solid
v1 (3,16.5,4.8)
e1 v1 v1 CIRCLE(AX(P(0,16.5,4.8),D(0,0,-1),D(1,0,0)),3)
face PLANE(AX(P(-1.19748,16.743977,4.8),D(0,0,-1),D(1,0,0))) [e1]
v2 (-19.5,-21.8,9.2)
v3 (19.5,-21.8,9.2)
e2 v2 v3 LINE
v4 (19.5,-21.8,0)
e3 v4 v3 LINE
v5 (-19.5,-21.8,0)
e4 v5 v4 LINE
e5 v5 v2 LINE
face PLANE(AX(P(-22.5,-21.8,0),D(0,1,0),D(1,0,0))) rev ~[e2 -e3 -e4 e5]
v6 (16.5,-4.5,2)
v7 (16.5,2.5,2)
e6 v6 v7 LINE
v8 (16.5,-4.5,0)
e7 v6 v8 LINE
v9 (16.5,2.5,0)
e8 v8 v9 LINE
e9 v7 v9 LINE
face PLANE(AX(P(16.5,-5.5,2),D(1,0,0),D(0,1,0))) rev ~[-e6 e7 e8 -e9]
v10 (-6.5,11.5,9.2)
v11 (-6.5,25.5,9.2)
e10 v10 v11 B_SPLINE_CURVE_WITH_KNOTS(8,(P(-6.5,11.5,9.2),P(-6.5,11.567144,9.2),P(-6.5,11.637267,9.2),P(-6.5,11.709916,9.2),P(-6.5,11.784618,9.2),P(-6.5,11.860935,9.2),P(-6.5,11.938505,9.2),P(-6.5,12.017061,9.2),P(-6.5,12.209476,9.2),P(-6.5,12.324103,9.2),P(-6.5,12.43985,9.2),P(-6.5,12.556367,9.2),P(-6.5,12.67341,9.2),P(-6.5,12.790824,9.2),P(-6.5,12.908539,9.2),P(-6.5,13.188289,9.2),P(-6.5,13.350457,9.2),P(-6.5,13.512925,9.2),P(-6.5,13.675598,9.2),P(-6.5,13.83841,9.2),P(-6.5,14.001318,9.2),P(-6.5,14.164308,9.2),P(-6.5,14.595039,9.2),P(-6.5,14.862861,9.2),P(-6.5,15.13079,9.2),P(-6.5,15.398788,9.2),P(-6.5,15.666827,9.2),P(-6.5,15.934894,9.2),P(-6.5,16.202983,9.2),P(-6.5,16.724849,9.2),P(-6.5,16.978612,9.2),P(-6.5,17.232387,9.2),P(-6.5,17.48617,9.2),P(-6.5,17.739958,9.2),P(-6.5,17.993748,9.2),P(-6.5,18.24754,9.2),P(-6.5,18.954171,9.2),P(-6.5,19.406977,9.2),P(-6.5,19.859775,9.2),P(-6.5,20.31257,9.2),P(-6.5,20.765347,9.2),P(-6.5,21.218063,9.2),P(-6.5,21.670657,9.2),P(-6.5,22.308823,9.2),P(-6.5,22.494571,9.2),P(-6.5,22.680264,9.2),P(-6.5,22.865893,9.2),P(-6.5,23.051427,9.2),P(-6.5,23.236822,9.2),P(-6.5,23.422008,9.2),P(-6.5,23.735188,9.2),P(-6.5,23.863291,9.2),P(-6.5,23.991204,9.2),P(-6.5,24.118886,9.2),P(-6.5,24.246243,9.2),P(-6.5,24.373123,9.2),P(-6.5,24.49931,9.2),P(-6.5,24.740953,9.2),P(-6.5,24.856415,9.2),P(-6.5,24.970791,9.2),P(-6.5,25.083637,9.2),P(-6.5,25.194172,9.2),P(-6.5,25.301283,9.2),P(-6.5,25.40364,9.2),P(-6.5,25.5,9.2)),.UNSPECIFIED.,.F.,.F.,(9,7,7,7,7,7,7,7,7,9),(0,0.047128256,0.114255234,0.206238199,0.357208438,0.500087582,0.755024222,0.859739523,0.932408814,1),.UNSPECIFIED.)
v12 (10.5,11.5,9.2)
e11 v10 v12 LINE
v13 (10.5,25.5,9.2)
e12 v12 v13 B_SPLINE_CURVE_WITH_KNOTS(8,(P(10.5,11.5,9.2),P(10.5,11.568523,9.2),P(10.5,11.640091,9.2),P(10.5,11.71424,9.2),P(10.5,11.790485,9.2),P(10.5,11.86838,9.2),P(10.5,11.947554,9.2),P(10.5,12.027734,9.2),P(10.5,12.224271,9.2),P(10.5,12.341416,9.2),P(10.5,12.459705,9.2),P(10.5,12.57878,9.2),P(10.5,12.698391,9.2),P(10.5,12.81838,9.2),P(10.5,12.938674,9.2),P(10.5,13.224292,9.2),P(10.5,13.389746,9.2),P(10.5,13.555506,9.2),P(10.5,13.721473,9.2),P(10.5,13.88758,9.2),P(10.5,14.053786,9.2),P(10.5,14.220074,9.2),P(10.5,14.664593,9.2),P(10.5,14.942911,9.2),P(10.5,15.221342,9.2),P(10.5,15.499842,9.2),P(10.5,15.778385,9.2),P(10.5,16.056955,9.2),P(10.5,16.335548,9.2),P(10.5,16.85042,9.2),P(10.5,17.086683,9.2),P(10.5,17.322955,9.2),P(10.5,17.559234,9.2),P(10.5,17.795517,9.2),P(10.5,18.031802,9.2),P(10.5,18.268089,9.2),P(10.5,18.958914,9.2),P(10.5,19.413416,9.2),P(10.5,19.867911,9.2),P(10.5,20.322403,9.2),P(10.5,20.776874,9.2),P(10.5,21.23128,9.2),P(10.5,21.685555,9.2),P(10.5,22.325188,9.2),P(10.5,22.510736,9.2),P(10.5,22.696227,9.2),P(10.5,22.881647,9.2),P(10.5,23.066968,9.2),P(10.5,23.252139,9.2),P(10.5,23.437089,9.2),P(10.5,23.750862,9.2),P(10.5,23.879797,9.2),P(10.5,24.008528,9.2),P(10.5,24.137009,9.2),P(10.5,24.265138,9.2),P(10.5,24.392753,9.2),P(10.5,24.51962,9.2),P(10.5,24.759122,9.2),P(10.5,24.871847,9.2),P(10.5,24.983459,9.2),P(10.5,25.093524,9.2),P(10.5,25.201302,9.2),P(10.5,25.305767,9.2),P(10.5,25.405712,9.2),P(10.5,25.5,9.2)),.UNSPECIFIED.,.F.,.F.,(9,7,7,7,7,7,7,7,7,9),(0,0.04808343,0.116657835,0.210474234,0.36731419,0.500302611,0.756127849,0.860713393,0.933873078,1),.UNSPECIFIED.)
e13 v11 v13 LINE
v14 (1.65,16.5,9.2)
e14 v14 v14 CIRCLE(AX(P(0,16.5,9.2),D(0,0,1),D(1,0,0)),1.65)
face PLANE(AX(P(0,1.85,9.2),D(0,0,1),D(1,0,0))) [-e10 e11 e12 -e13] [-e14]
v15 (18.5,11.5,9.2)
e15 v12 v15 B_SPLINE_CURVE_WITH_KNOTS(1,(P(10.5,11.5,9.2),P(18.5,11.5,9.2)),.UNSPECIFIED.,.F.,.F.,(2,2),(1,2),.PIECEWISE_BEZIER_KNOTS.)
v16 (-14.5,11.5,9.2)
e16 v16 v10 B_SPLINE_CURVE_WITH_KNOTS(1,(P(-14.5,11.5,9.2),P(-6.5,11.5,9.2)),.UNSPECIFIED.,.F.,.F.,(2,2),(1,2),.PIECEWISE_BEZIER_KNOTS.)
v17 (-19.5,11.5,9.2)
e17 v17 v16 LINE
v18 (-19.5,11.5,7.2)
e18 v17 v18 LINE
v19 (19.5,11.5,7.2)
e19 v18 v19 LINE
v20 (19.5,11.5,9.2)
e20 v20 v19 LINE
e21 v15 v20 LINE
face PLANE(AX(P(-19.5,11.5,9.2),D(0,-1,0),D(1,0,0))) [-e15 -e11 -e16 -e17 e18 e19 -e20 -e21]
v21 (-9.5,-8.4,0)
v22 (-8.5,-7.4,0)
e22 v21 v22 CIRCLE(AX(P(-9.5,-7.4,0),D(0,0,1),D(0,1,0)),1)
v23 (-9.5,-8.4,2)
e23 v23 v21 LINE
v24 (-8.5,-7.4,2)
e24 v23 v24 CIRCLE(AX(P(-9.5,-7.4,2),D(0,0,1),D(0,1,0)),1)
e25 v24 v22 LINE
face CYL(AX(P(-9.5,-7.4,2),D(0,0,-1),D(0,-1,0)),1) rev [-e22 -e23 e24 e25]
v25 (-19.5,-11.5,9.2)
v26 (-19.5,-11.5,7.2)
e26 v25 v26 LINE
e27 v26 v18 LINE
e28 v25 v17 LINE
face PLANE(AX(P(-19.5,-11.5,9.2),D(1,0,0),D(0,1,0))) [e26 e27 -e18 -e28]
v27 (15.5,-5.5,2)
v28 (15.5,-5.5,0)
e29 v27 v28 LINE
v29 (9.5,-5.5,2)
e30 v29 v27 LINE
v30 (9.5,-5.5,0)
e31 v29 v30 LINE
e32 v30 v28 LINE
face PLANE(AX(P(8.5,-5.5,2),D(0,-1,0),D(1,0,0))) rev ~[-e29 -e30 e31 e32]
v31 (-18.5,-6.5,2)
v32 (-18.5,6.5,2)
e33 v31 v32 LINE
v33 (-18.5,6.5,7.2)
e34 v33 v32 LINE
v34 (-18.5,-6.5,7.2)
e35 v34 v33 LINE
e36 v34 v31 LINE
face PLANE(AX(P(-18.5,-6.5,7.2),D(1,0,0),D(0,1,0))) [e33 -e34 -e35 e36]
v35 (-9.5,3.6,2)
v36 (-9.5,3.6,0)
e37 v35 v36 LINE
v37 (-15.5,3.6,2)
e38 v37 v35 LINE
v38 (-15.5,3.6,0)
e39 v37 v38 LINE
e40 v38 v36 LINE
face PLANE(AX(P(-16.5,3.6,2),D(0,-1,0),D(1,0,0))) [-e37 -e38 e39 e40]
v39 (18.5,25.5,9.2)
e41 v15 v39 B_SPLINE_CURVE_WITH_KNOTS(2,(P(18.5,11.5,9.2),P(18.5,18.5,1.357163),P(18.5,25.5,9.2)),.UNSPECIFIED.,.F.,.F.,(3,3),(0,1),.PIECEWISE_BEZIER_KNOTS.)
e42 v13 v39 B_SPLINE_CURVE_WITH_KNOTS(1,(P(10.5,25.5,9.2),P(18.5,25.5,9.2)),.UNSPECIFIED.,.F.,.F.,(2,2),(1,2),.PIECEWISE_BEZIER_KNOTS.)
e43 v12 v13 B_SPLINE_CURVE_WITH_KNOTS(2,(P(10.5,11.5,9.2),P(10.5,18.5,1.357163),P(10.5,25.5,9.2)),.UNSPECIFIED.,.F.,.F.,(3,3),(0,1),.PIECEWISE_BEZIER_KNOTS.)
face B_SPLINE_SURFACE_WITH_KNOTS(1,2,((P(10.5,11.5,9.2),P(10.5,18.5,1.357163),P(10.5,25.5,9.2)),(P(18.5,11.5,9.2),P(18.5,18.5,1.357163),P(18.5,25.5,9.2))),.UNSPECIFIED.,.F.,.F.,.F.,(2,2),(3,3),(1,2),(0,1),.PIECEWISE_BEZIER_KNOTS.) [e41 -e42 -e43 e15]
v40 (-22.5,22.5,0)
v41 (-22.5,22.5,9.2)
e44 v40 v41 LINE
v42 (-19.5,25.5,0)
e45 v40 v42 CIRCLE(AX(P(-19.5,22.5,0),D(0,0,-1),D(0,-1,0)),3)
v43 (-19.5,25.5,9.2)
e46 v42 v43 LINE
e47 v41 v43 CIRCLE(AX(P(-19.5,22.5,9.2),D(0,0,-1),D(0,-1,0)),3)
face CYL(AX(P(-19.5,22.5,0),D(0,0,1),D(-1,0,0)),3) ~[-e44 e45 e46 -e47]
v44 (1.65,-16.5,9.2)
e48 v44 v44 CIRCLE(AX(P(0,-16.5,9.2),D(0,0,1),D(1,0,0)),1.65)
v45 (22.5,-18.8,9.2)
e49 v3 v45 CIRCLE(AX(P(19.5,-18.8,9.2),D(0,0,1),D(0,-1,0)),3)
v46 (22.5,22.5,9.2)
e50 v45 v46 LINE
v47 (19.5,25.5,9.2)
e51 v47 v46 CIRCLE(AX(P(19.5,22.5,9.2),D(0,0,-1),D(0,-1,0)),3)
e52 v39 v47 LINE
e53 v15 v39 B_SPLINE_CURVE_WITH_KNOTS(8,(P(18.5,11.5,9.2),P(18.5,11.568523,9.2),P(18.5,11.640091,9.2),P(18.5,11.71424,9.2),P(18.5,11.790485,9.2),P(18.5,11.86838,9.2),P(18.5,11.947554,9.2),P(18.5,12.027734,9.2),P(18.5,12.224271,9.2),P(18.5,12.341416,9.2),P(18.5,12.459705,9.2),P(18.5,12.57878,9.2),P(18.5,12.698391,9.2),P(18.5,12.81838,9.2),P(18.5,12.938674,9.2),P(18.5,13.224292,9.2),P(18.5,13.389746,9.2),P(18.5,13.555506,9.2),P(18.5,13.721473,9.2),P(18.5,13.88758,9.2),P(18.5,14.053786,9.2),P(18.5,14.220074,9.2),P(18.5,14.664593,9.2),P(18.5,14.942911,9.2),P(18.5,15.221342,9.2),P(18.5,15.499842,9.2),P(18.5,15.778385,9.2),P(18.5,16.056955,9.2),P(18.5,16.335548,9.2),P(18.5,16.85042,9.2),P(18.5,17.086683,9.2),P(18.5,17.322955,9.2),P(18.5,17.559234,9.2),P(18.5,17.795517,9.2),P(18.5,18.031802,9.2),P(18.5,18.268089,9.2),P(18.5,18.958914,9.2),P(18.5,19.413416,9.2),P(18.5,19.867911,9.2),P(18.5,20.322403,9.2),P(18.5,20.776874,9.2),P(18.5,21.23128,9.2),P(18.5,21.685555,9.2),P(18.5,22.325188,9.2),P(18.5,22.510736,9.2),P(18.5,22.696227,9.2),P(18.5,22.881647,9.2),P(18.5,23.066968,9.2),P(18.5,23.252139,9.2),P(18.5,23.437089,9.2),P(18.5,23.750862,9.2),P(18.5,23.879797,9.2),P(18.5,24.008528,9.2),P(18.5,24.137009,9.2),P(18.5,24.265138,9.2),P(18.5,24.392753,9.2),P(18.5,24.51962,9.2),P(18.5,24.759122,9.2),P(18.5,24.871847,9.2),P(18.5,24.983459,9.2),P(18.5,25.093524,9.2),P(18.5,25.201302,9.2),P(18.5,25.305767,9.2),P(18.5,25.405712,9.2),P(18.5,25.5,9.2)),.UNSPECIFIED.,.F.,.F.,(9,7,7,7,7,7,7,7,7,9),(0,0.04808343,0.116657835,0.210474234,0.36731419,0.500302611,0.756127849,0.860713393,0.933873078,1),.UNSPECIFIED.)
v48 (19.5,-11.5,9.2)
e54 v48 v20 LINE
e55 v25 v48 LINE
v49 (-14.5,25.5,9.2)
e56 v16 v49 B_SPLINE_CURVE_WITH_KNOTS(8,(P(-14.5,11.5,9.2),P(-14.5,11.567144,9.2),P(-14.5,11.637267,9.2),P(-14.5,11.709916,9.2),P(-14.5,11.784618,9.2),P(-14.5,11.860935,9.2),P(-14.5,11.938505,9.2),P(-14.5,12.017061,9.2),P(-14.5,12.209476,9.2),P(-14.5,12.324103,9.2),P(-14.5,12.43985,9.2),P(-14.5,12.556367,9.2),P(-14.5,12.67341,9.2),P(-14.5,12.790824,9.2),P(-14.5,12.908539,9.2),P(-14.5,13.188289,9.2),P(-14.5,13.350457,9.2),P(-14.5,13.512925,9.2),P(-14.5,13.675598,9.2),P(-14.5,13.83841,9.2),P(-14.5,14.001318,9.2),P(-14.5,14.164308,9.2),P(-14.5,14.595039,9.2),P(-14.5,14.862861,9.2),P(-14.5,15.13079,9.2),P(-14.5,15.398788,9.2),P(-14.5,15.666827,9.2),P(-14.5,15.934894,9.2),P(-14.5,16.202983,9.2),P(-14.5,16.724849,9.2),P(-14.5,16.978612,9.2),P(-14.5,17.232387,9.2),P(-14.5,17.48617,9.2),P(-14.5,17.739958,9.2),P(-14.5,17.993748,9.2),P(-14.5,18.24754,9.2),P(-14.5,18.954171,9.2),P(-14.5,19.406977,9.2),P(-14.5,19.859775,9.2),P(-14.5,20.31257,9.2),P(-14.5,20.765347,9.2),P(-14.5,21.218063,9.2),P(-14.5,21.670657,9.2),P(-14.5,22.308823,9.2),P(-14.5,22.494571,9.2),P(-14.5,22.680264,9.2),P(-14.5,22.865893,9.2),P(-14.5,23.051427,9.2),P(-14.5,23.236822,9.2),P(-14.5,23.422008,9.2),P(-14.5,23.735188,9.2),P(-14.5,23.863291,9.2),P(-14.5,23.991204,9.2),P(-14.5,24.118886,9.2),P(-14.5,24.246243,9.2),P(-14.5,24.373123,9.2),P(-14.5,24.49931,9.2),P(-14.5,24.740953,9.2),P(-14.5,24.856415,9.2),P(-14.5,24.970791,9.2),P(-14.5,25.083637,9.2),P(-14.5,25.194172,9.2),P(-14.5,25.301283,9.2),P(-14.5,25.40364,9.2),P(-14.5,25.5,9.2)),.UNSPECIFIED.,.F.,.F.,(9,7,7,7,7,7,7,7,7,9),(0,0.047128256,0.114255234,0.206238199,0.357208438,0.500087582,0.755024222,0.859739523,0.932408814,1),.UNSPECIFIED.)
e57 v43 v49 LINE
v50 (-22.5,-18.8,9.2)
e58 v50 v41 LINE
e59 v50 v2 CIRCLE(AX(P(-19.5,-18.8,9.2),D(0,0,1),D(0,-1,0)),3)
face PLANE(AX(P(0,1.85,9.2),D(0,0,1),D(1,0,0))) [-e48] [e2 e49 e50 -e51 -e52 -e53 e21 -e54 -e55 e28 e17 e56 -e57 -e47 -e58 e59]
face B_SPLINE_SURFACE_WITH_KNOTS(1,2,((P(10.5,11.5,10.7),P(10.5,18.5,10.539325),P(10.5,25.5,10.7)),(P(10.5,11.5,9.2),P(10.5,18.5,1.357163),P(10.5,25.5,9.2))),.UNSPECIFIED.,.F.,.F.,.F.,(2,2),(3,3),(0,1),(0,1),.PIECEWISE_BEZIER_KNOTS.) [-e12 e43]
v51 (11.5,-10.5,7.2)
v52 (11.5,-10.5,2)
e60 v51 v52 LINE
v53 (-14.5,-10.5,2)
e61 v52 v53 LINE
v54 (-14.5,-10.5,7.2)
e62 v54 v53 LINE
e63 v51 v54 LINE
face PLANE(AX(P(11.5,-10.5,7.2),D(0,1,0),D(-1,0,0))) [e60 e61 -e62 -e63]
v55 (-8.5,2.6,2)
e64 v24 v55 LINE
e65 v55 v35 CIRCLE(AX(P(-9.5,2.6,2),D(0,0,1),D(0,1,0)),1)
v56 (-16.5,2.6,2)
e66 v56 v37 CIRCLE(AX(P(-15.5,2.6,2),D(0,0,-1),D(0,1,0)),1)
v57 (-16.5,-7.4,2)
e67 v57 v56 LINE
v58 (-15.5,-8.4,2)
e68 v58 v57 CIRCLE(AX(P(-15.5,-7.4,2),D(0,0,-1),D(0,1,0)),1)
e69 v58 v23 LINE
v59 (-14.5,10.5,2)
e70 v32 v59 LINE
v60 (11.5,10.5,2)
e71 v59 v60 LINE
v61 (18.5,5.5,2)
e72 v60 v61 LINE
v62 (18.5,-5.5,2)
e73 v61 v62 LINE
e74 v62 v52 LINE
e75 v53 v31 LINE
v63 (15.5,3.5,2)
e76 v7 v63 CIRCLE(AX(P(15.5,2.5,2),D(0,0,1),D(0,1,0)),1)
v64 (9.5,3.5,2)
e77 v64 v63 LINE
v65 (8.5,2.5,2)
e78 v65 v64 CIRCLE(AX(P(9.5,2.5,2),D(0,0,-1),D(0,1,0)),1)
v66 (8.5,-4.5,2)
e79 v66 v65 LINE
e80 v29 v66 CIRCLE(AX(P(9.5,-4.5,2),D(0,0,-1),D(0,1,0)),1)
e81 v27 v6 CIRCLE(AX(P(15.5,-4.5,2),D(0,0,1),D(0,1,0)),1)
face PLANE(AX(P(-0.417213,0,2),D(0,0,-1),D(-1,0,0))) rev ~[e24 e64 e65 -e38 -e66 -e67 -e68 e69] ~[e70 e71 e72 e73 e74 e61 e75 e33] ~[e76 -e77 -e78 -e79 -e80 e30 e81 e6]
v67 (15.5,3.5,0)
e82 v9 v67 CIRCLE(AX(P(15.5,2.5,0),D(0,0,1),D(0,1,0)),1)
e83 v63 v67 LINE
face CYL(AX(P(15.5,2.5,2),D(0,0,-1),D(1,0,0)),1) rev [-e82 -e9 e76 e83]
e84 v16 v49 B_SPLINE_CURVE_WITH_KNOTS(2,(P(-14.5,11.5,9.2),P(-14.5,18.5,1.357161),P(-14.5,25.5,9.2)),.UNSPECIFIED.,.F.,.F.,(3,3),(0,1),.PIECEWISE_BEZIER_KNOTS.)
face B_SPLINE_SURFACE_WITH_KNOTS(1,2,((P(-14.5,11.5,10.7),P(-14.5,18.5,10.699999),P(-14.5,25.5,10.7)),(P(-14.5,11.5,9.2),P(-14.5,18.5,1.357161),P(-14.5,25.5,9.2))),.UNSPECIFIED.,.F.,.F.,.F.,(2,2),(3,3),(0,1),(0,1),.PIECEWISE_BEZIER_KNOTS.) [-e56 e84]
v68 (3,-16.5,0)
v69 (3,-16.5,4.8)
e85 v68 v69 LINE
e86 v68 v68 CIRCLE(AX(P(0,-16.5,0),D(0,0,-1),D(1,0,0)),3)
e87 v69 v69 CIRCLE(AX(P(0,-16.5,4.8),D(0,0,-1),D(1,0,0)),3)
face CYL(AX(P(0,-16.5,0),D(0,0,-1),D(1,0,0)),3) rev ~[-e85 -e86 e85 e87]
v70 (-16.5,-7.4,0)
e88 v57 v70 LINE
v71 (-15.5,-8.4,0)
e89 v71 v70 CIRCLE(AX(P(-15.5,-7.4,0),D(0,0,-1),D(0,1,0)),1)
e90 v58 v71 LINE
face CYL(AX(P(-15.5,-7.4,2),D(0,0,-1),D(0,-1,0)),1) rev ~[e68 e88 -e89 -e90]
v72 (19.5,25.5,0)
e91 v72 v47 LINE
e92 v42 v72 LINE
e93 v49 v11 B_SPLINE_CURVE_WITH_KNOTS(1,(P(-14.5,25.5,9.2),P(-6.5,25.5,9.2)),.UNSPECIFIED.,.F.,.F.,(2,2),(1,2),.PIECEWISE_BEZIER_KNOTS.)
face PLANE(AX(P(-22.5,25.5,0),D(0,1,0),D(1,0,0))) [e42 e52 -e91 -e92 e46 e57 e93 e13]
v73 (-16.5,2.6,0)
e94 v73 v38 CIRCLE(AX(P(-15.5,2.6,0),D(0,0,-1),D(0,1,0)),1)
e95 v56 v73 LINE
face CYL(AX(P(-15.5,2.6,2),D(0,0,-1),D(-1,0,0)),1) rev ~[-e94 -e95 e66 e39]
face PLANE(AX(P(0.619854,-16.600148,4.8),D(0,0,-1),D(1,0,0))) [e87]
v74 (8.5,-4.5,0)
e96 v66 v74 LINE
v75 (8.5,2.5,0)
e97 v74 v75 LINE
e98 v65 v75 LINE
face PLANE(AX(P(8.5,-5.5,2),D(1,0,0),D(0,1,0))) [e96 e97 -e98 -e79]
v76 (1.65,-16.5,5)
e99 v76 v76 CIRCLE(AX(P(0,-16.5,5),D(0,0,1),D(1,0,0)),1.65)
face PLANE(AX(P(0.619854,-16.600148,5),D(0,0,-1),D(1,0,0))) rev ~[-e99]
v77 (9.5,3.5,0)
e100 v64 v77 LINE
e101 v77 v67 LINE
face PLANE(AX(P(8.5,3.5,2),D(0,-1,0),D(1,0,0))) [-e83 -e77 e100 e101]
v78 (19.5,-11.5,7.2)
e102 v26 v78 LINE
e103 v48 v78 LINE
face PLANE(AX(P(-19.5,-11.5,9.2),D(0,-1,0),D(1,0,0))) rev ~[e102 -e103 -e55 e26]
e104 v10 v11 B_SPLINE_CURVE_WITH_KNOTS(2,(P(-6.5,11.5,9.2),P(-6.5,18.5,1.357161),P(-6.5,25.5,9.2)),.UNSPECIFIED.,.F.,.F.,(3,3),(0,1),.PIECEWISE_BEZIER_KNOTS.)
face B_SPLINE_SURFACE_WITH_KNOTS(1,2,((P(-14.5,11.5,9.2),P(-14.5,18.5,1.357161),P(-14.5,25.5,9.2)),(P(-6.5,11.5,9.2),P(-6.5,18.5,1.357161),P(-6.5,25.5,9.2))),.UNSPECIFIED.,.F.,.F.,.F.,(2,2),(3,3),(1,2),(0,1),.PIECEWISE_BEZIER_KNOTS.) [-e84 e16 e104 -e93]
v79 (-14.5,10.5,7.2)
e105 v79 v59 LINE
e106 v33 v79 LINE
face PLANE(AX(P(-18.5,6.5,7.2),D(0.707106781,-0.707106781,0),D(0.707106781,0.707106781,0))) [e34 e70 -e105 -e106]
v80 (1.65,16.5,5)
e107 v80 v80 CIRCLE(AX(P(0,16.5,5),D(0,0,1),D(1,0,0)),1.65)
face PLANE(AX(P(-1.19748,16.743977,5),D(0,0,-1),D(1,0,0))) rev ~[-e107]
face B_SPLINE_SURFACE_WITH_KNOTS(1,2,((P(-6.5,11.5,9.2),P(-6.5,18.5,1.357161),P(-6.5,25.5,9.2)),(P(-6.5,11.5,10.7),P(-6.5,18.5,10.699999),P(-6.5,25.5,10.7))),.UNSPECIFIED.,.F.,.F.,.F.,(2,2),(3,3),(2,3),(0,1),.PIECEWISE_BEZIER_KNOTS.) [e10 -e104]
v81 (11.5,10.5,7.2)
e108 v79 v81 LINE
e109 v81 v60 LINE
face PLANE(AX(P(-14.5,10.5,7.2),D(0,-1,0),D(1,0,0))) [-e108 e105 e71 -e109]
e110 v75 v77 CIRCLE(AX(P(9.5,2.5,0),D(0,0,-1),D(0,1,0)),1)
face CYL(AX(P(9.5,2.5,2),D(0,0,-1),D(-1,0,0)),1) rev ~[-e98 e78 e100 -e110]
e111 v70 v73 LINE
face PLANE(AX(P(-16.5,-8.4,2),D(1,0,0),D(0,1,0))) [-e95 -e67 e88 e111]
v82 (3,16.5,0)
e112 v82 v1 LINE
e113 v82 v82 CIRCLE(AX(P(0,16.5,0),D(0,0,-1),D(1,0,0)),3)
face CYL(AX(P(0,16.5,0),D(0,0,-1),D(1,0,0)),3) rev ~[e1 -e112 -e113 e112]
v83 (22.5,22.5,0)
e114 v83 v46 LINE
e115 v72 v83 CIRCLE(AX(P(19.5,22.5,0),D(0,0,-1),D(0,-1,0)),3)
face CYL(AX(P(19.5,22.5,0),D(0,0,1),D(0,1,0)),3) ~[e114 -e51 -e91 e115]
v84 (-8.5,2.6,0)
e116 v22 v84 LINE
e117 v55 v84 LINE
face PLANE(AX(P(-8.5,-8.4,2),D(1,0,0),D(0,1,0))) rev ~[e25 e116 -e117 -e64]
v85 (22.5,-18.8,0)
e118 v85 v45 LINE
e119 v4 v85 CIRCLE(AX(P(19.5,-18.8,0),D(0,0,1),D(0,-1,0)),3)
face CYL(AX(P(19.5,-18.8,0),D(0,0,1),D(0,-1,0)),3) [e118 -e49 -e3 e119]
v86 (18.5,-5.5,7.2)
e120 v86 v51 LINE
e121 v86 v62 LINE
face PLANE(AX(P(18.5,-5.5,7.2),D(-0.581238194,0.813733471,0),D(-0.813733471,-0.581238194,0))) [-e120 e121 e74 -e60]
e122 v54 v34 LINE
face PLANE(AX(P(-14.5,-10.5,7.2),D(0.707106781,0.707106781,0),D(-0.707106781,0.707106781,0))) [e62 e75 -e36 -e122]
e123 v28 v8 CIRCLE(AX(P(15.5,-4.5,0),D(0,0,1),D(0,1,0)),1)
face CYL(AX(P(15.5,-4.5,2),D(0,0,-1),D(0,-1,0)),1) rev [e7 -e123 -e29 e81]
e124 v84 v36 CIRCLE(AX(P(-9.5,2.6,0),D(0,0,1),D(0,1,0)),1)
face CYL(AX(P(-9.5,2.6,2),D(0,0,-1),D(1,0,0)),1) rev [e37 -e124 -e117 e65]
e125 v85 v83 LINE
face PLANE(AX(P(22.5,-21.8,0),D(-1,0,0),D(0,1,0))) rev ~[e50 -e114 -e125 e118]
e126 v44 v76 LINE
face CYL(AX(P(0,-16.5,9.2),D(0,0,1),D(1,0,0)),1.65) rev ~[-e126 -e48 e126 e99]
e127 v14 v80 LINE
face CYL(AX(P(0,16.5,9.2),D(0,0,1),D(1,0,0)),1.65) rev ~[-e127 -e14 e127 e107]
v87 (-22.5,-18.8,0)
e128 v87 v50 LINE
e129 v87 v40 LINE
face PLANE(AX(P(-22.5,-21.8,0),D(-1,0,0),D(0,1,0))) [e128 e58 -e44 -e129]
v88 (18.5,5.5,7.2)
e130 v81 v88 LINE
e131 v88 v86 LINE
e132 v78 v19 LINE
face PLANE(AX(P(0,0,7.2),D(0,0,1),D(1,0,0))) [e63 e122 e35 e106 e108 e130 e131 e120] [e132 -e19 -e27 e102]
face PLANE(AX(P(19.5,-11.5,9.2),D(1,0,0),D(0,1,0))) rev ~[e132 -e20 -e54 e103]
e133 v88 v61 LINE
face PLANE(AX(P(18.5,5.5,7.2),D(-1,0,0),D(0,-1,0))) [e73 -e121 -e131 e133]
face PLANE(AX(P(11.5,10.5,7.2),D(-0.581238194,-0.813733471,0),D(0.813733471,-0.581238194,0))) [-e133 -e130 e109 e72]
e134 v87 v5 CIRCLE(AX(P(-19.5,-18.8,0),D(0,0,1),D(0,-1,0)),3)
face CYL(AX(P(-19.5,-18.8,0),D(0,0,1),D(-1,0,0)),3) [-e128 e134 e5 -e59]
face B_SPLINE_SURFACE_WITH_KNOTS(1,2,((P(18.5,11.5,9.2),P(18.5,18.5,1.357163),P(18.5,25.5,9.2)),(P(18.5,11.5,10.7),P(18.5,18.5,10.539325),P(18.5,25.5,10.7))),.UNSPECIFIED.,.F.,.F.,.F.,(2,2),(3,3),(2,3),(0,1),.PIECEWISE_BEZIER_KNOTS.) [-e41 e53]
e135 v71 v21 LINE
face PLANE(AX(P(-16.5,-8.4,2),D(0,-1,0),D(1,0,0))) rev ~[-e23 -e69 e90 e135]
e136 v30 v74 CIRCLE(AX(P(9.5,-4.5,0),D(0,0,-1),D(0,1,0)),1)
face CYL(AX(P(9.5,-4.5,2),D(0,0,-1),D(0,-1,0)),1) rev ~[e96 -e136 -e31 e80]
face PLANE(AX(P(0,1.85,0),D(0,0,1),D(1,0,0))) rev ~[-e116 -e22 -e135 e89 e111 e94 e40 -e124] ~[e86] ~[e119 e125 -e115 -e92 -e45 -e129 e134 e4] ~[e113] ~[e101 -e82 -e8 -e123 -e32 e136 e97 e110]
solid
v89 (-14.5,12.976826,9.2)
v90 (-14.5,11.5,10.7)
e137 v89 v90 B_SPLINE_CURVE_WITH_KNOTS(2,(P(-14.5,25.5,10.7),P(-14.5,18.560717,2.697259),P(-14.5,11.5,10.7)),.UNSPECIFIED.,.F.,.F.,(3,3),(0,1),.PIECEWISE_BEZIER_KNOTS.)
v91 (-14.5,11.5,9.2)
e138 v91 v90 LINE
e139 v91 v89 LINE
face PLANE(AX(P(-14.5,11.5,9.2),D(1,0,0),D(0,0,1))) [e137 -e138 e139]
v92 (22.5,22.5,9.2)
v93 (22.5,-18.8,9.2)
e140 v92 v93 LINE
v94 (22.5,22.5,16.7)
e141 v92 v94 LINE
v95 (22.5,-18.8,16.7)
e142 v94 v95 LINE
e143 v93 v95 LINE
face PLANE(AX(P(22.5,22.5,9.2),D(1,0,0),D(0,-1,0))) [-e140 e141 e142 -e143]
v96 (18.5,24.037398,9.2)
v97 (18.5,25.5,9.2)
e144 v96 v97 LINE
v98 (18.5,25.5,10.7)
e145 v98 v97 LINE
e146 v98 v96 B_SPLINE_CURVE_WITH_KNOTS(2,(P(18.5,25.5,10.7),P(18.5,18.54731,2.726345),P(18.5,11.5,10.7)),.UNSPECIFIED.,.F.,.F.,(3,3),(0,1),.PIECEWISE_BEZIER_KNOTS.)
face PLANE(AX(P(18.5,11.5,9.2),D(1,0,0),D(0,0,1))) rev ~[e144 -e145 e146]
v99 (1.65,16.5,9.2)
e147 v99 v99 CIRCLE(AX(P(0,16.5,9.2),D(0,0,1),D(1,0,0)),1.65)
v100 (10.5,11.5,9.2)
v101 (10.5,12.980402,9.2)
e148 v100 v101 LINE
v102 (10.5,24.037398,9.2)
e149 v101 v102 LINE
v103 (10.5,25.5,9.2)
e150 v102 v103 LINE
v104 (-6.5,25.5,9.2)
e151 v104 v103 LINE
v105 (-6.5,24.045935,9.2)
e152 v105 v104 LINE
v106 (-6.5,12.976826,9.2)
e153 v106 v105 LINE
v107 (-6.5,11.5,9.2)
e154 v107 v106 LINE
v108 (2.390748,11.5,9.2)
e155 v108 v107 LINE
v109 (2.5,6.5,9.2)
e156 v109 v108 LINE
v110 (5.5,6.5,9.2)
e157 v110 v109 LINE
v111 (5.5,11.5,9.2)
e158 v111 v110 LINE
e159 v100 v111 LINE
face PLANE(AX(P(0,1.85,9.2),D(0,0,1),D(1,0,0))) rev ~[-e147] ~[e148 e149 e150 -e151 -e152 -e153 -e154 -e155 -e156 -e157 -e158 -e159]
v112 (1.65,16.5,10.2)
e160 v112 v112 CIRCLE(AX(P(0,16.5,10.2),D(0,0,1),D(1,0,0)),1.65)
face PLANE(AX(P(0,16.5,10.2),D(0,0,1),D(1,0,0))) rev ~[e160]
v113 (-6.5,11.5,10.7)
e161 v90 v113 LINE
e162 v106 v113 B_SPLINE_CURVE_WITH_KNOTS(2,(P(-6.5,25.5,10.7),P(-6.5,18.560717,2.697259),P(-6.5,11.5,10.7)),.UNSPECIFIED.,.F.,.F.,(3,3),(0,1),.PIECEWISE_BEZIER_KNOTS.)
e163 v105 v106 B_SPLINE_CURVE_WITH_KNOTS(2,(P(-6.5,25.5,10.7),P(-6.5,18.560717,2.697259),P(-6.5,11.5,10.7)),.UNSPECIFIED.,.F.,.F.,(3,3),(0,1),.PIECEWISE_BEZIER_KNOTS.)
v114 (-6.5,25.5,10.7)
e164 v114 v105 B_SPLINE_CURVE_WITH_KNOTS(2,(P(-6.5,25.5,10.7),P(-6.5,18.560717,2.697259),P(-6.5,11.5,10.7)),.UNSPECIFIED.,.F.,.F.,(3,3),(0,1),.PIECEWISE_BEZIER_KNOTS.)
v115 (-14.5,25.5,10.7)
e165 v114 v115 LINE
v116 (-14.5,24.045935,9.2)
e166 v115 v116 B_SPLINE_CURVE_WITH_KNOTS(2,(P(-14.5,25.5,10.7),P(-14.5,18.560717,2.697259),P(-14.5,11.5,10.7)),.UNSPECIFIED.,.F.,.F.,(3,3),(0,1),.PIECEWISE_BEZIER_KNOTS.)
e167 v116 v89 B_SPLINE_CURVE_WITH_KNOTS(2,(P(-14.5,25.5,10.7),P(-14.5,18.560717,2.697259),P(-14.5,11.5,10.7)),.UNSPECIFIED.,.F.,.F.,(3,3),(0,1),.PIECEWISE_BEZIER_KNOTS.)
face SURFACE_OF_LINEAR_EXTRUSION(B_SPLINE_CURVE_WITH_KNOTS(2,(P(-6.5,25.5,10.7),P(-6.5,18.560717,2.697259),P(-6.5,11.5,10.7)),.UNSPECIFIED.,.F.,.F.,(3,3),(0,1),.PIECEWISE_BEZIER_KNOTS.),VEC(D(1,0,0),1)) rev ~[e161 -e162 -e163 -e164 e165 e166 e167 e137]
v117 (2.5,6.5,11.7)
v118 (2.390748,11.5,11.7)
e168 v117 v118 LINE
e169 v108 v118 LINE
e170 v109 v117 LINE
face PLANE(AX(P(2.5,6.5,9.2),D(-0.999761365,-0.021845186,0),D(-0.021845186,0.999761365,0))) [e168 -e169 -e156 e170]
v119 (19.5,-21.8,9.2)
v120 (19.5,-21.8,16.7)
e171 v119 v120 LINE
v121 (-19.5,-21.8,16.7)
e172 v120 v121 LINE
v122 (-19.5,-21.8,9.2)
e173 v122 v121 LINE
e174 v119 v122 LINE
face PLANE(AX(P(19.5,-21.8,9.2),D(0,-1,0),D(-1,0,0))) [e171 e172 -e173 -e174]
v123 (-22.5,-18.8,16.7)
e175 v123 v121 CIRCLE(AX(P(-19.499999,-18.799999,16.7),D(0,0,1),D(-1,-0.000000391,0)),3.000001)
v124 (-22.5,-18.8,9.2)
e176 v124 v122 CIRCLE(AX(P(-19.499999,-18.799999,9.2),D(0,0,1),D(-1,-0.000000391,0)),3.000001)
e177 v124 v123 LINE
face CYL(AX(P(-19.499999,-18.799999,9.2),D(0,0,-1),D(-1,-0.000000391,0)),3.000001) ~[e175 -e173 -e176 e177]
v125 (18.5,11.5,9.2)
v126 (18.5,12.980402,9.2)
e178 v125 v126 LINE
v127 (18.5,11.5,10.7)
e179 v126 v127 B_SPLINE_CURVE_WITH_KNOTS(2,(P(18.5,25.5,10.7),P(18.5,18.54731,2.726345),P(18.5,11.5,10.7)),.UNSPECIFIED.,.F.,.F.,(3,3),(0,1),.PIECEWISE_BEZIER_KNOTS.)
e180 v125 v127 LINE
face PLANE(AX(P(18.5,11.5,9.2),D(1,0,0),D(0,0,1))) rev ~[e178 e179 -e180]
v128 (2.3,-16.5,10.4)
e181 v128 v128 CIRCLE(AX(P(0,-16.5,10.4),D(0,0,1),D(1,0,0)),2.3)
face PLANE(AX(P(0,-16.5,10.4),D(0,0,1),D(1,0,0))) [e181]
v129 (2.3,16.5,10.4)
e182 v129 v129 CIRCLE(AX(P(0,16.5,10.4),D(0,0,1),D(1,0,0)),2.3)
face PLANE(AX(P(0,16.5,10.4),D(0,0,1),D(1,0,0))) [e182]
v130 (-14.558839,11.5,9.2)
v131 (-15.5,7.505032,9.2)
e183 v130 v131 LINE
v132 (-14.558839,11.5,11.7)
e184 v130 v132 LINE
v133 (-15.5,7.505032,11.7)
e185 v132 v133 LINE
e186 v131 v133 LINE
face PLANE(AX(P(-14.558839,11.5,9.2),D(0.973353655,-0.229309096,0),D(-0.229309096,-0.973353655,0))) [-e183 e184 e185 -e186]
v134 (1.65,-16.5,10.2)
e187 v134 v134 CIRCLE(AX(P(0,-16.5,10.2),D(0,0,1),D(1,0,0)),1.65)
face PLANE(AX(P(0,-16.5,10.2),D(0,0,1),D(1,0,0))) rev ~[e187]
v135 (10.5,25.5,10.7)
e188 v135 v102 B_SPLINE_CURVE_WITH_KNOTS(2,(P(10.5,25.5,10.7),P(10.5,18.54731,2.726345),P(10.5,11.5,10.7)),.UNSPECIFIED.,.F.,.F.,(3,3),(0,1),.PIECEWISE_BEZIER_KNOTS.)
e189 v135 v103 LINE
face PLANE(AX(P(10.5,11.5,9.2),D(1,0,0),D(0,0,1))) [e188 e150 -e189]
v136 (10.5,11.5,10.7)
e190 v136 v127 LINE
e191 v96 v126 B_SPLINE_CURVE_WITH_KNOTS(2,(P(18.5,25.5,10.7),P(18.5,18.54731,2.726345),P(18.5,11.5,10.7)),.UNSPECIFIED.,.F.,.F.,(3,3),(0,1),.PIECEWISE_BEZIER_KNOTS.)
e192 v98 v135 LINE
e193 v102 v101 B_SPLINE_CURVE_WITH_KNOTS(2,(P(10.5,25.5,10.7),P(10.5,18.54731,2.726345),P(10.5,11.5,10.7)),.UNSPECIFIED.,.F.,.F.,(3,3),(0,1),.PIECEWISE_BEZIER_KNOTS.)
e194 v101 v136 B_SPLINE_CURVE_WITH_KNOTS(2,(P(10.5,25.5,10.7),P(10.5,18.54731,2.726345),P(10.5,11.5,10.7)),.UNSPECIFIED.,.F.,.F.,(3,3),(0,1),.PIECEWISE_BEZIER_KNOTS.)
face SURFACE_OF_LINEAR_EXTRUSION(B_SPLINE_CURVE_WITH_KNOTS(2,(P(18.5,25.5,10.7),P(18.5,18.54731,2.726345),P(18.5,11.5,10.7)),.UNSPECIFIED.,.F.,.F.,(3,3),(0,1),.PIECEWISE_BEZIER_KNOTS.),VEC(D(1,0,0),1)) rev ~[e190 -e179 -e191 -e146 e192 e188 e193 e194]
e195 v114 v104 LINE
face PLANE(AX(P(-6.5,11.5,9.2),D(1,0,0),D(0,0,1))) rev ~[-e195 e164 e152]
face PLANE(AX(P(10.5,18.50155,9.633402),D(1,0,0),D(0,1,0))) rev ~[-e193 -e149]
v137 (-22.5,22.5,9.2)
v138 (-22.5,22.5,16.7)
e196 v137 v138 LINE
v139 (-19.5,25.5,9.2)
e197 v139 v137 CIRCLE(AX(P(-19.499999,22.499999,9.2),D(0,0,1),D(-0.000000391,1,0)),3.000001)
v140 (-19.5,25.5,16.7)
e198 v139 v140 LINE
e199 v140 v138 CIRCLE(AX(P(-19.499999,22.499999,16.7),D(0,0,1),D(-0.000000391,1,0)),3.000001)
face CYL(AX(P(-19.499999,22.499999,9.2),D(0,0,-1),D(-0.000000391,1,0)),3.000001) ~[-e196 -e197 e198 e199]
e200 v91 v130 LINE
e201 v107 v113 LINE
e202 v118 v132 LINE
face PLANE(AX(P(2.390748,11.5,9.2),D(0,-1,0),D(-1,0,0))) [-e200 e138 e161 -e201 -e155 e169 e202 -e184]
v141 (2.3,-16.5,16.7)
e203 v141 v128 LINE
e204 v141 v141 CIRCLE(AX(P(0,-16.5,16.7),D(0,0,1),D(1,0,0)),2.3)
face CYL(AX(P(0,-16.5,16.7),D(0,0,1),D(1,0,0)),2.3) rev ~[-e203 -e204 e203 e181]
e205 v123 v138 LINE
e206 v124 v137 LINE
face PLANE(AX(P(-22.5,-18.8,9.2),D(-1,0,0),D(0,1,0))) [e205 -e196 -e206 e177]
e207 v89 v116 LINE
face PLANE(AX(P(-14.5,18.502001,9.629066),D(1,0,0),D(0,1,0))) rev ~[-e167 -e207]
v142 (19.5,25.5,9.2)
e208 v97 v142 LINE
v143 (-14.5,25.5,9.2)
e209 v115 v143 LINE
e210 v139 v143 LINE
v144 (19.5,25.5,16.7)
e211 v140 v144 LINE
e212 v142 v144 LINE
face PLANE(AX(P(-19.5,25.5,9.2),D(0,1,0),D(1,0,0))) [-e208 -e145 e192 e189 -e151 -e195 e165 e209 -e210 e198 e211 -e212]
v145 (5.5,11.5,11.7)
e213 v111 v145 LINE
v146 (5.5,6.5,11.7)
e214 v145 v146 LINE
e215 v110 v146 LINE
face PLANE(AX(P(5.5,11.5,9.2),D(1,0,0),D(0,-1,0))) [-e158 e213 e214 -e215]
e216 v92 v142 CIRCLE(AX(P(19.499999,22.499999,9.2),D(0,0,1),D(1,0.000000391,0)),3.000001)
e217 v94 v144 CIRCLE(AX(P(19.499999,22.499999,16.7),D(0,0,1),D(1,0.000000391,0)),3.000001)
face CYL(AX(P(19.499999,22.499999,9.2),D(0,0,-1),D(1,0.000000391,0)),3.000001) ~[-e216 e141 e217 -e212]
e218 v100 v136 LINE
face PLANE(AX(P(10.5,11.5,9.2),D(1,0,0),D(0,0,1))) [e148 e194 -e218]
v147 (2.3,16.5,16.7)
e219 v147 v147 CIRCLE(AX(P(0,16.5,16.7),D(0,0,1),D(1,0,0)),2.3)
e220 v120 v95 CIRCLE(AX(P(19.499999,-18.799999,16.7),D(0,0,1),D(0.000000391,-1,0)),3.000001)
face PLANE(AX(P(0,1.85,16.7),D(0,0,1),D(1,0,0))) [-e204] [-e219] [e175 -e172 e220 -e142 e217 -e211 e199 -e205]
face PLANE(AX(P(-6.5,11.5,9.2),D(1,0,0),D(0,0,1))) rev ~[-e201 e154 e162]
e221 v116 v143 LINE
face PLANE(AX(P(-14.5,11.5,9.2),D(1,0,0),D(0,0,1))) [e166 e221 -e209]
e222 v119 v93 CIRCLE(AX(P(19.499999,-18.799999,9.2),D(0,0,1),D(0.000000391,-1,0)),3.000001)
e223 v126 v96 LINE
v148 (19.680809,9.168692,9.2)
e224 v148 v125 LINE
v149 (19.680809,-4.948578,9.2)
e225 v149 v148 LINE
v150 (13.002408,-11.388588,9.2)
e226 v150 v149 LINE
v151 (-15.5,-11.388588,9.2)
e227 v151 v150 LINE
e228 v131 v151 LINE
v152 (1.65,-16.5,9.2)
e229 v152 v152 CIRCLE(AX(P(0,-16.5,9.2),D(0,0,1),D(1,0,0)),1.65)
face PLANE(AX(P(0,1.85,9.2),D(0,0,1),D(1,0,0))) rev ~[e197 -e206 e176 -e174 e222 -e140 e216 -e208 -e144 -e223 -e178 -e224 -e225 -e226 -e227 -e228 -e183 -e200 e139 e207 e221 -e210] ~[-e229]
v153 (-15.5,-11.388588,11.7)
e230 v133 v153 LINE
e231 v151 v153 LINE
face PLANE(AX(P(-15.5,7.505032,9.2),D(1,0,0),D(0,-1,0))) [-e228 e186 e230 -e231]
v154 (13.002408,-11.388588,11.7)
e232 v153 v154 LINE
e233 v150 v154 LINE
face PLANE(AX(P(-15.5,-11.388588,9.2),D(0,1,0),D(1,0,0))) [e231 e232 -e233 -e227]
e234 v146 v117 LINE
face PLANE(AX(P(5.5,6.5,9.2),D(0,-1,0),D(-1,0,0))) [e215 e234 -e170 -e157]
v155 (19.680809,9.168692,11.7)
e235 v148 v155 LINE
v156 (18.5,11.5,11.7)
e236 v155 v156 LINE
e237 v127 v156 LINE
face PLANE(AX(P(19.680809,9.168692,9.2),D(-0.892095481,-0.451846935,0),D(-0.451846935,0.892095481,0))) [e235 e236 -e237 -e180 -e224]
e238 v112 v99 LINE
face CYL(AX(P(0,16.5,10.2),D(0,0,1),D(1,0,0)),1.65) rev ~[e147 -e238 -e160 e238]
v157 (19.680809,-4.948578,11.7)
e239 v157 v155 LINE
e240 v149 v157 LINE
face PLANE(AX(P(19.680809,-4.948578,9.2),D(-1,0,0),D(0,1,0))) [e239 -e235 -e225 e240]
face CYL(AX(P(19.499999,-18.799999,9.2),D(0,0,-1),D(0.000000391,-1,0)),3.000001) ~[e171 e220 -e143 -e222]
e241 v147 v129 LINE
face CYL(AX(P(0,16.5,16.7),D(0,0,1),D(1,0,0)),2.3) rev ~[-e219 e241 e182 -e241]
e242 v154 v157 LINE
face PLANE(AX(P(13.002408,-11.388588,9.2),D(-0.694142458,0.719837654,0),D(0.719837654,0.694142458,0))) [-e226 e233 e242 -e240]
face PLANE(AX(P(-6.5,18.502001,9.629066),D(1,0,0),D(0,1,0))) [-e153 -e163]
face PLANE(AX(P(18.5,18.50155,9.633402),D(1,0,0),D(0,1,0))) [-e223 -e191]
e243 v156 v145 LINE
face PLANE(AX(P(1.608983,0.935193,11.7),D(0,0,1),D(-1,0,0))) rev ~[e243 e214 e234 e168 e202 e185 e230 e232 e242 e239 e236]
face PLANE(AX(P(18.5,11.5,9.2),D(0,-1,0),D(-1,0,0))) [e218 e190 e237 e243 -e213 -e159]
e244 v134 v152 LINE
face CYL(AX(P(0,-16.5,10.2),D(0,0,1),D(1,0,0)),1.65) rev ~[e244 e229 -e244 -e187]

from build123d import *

# Parameters (mm, degrees)
SKETCH001_W     = 45
SKETCH001_H     = 47.3
PAD_DEPTH       = 9.2
SKETCH002_W     = 39
SKETCH002_H     = 23
POCKET_DEPTH    = 2
SKETCH003_R     = 1.65
POCKET001_DEPTH = 9.201
POCKET002_DEPTH = 5.2
SKETCH005_W     = 8
SKETCH005_H     = 9
SKETCH005_H_2   = 12
POCKET003_DEPTH = 2.001
SKETCH006_R     = 3
POCKET004_DEPTH = 5
SKETCH007_W     = 11.325413
SKETCH007_H     = 8.270186
SKETCH007_W_2   = 9.060331
SKETCH007_H_2   = 7.532717
PAD001_DEPTH    = 0.2
FILLET_R        = 3
FILLET001_R     = 1
FILLET002_R     = 1
SKETCH008_W     = 8
SKETCH008_H     = 1.5
SKETCH009_W     = 8
SKETCH009_H     = 5.341081
SKETCH010_W     = 8
SKETCH010_H     = 1.5
SKETCH011_W     = 8
SKETCH011_H     = 1.5
SKETCH012_W     = 8
SKETCH012_H     = 5.421419
SKETCH013_W     = 8
SKETCH013_H     = 1.5
PAD002_DEPTH    = 7.5
SKETCH015_R     = 2.3
POCKET005_DEPTH = 6.3
SKETCH016_R     = 1.65
POCKET006_DEPTH = 1
POCKET007_DEPTH = 2.5
SKETCH018_W     = 8
SKETCH018_H     = 1.5
POCKET008_DEPTH = 14.001
PAD003_DEPTH    = 8
PAD004_DEPTH    = 8


with BuildPart() as ltop:
    # Sketch001 → Pad (new body)
    with BuildSketch(Plane.XY):
        with Locations((0, 1.85)):
            Rectangle(SKETCH001_W, SKETCH001_H)
    extrude(amount=PAD_DEPTH)

    # Sketch002 (on Face6 of Pad) → Pocket (cut)
    with BuildSketch(Plane.XY.offset(9.2)):
        Rectangle(SKETCH002_W, SKETCH002_H)
    extrude(amount=-POCKET_DEPTH, mode=Mode.SUBTRACT)

    # Sketch003 (on Face5 of Pocket) → Pocket001 (cut, through all)
    with BuildSketch(Plane.XY.offset(9.2)):
        with Locations((0, 16.5)):
            Circle(SKETCH003_R)
        with Locations((0, -16.5)):
            Circle(SKETCH003_R)
    extrude(amount=-POCKET001_DEPTH, mode=Mode.SUBTRACT)

    # Sketch004 (on Face13 of Pocket001) → Pocket002 (cut)
    with BuildSketch(Plane.XY.offset(7.2)):
        Polygon((-18.5, 6.5), (-14.5, 10.5), (11.5, 10.5), (18.5, 5.5), (18.5, -5.5), (11.5, -10.5), (-14.5, -10.5), (-18.5, -6.5), align=None)
    extrude(amount=-POCKET002_DEPTH, mode=Mode.SUBTRACT)

    # Sketch005 (on Face22 of Pocket002) → Pocket003 (cut, through all)
    with BuildSketch(Plane.XY.offset(2)):
        with Locations((12.5, -1)):
            Rectangle(SKETCH005_W, SKETCH005_H)
        with Locations((-12.5, -2.4)):
            Rectangle(SKETCH005_W, SKETCH005_H_2)
    extrude(amount=-POCKET003_DEPTH, mode=Mode.SUBTRACT)

    # Sketch006 (on Face4 of Pocket003) → Pocket004 (cut)
    with BuildSketch(Plane(origin=(0, 0, 0), x_dir=(1, 0, 0), z_dir=(0, 0, -1))):
        with Locations((0, 16.5)):
            Circle(SKETCH006_R)
        with Locations((0, -16.5)):
            Circle(SKETCH006_R)
    extrude(amount=-POCKET004_DEPTH, mode=Mode.SUBTRACT)

    # Sketch007 (on Face25 of Pocket004) → Pad001 (join)
    with BuildSketch(Plane(origin=(0, 0, 5), x_dir=(1, 0, 0), z_dir=(0, 0, -1))):
        with Locations((0.619854, 16.600148)):
            Rectangle(SKETCH007_W, SKETCH007_H)
        with Locations((-1.19748, -16.743977)):
            Rectangle(SKETCH007_W_2, SKETCH007_H_2)
    extrude(amount=PAD001_DEPTH)

    # Fillet
    fillet_edges = [ltop.edges().sort_by_distance(p)[0] for p in [
        (22.5, -21.8, 4.6),
        (22.5, 25.5, 4.6),
        (-22.5, 25.5, 4.6),
        (-22.5, -21.8, 4.6),
    ]]
    fillet(fillet_edges, radius=FILLET_R)

    # Fillet001
    fillet001_edges = [ltop.edges().sort_by_distance(p)[0] for p in [
        (16.5, 3.5, 1),
        (16.5, -5.5, 1),
        (8.5, -5.5, 1),
        (8.5, 3.5, 1),
    ]]
    fillet(fillet001_edges, radius=FILLET001_R)

    # Fillet002
    fillet002_edges = [ltop.edges().sort_by_distance(p)[0] for p in [
        (-8.5, 3.6, 1),
        (-8.5, -8.4, 1),
        (-16.5, -8.4, 1),
        (-16.5, 3.6, 1),
    ]]
    fillet(fillet002_edges, radius=FILLET002_R)

    # Sketch008 (on Face43 of Fillet002) → SubtractiveLoft section 0
    with BuildSketch(Plane.XZ.offset(-11.5)):
        with Locations((14.5, 9.95)):
            Rectangle(SKETCH008_W, SKETCH008_H)
    # Sketch009 (on DatumPlane) → SubtractiveLoft section 1
    with BuildSketch(Plane(origin=(0, 18.5, 24), x_dir=(1, 0, 0), z_dir=(0, -1, 0))):
        with Locations((14.5, -16.050878)):
            Rectangle(SKETCH009_W, SKETCH009_H)
    # Sketch010 (on Face18 of Fillet002) → SubtractiveLoft section 2
    with BuildSketch(Plane(origin=(0, 25.5, 0), x_dir=(-1, 0, 0), z_dir=(0, 1, 0))):
        with Locations((-14.5, 9.95)):
            Rectangle(SKETCH010_W, SKETCH010_H)
    loft(mode=Mode.SUBTRACT)

    # Sketch011 (on Face42 of SubtractiveLoft) → SubtractiveLoft001 section 0
    with BuildSketch(Plane.XZ.offset(-11.5)):
        with Locations((-10.5, 9.95)):
            Rectangle(SKETCH011_W, SKETCH011_H)
    # Sketch012 (on DatumPlane) → SubtractiveLoft001 section 1
    with BuildSketch(Plane(origin=(0, 18.5, 24), x_dir=(1, 0, 0), z_dir=(0, -1, 0))):
        with Locations((-10.5, -16.01071)):
            Rectangle(SKETCH012_W, SKETCH012_H)
    # Sketch013 (on Face18 of SubtractiveLoft) → SubtractiveLoft001 section 2
    with BuildSketch(Plane(origin=(0, 25.5, 0), x_dir=(-1, 0, 0), z_dir=(0, 1, 0))):
        with Locations((10.5, 9.95)):
            Rectangle(SKETCH013_W, SKETCH013_H)
    loft(mode=Mode.SUBTRACT)


with BuildPart() as lbottom:
    # Sketch014 → Pad002 (new body)
    with BuildSketch(Plane.XY.offset(9.2)):
        with BuildLine():
            ThreePointArc((-19.5, 25.5), (-21.62132, 24.62132), (-22.5, 22.5))
            Line((-22.5, -18.8), (-22.5, 22.5))
            ThreePointArc((-22.5, -18.8), (-21.62132, -20.92132), (-19.5, -21.8))
            Line((19.5, -21.8), (-19.5, -21.8))
            ThreePointArc((19.5, -21.8), (21.62132, -20.92132), (22.5, -18.8))
            Line((22.5, 22.5), (22.5, -18.8))
            ThreePointArc((22.5, 22.5), (21.62132, 24.62132), (19.5, 25.5))
            Line((-19.5, 25.5), (19.5, 25.5))
        make_face()
    extrude(amount=PAD002_DEPTH)

    # Sketch015 (on Face10 of Pad002) → Pocket005 (cut)
    with BuildSketch(Plane.XY.offset(16.7)):
        with Locations((0, 16.5)):
            Circle(SKETCH015_R)
        with Locations((0, -16.5)):
            Circle(SKETCH015_R)
    extrude(amount=-POCKET005_DEPTH, mode=Mode.SUBTRACT)

    # Sketch016 (on Face14 of Pocket005) → Pocket006 (cut)
    with BuildSketch(Plane.XY.offset(10.2)):
        with Locations((0, 16.5)):
            Circle(SKETCH016_R)
        with Locations((0, -16.5)):
            Circle(SKETCH016_R)
    extrude(amount=-POCKET006_DEPTH, mode=Mode.SUBTRACT)

    # Sketch017 (on Face4 of Pocket006) → Pocket007 (cut)
    with BuildSketch(Plane(origin=(0, 0, 9.2), x_dir=(1, 0, 0), z_dir=(0, 0, -1))):
        Polygon((-15.5, -7.505032), (-15.5, 11.388588), (13.002408, 11.388588), (19.680809, 4.948578), (19.680809, -9.168692), (18.5, -11.5), (5.5, -11.5), (5.5, -6.5), (2.5, -6.5), (2.390748, -11.5), (-14.558839, -11.5), align=None)
    extrude(amount=-POCKET007_DEPTH, mode=Mode.SUBTRACT)

    # Sketch018 (on Face22 of Pocket007) → Pocket008 (cut, through all)
    with BuildSketch(Plane.XZ.offset(-11.5)):
        with Locations((-10.5, 9.95)):
            Rectangle(SKETCH018_W, SKETCH018_H)
        with Locations((14.5, 9.95)):
            Rectangle(SKETCH018_W, SKETCH018_H)
    extrude(amount=-POCKET008_DEPTH, mode=Mode.SUBTRACT)

    # Sketch019 (on Face12 of Pocket008) → Pad003 (join)
    with BuildSketch(Plane(origin=(18.5, 0, 0), x_dir=(0, -1, 0), z_dir=(-1, 0, 0))):
        with BuildLine():
            Line((-25.5, 10.7), (-11.5, 10.7))
            add(Edge.make_bspline(
                [(-25.5, 10.7), (-18.54731, 2.726345), (-11.5, 10.7)],
                knots=[0, 0, 0, 1, 1, 1], degree=2))
        make_face()
    extrude(amount=PAD003_DEPTH)

    # Sketch020 (on Face8 of Pad003) → Pad004 (join)
    with BuildSketch(Plane(origin=(-6.5, 0, 0), x_dir=(0, -1, 0), z_dir=(-1, 0, 0))):
        with BuildLine():
            Line((-25.5, 10.7), (-11.5, 10.7))
            add(Edge.make_bspline(
                [(-25.5, 10.7), (-18.560717, 2.697259), (-11.5, 10.7)],
                knots=[0, 0, 0, 1, 1, 1], degree=2))
        make_face()
    extrude(amount=PAD004_DEPTH)


solid = Compound([ltop.part, lbottom.part])
